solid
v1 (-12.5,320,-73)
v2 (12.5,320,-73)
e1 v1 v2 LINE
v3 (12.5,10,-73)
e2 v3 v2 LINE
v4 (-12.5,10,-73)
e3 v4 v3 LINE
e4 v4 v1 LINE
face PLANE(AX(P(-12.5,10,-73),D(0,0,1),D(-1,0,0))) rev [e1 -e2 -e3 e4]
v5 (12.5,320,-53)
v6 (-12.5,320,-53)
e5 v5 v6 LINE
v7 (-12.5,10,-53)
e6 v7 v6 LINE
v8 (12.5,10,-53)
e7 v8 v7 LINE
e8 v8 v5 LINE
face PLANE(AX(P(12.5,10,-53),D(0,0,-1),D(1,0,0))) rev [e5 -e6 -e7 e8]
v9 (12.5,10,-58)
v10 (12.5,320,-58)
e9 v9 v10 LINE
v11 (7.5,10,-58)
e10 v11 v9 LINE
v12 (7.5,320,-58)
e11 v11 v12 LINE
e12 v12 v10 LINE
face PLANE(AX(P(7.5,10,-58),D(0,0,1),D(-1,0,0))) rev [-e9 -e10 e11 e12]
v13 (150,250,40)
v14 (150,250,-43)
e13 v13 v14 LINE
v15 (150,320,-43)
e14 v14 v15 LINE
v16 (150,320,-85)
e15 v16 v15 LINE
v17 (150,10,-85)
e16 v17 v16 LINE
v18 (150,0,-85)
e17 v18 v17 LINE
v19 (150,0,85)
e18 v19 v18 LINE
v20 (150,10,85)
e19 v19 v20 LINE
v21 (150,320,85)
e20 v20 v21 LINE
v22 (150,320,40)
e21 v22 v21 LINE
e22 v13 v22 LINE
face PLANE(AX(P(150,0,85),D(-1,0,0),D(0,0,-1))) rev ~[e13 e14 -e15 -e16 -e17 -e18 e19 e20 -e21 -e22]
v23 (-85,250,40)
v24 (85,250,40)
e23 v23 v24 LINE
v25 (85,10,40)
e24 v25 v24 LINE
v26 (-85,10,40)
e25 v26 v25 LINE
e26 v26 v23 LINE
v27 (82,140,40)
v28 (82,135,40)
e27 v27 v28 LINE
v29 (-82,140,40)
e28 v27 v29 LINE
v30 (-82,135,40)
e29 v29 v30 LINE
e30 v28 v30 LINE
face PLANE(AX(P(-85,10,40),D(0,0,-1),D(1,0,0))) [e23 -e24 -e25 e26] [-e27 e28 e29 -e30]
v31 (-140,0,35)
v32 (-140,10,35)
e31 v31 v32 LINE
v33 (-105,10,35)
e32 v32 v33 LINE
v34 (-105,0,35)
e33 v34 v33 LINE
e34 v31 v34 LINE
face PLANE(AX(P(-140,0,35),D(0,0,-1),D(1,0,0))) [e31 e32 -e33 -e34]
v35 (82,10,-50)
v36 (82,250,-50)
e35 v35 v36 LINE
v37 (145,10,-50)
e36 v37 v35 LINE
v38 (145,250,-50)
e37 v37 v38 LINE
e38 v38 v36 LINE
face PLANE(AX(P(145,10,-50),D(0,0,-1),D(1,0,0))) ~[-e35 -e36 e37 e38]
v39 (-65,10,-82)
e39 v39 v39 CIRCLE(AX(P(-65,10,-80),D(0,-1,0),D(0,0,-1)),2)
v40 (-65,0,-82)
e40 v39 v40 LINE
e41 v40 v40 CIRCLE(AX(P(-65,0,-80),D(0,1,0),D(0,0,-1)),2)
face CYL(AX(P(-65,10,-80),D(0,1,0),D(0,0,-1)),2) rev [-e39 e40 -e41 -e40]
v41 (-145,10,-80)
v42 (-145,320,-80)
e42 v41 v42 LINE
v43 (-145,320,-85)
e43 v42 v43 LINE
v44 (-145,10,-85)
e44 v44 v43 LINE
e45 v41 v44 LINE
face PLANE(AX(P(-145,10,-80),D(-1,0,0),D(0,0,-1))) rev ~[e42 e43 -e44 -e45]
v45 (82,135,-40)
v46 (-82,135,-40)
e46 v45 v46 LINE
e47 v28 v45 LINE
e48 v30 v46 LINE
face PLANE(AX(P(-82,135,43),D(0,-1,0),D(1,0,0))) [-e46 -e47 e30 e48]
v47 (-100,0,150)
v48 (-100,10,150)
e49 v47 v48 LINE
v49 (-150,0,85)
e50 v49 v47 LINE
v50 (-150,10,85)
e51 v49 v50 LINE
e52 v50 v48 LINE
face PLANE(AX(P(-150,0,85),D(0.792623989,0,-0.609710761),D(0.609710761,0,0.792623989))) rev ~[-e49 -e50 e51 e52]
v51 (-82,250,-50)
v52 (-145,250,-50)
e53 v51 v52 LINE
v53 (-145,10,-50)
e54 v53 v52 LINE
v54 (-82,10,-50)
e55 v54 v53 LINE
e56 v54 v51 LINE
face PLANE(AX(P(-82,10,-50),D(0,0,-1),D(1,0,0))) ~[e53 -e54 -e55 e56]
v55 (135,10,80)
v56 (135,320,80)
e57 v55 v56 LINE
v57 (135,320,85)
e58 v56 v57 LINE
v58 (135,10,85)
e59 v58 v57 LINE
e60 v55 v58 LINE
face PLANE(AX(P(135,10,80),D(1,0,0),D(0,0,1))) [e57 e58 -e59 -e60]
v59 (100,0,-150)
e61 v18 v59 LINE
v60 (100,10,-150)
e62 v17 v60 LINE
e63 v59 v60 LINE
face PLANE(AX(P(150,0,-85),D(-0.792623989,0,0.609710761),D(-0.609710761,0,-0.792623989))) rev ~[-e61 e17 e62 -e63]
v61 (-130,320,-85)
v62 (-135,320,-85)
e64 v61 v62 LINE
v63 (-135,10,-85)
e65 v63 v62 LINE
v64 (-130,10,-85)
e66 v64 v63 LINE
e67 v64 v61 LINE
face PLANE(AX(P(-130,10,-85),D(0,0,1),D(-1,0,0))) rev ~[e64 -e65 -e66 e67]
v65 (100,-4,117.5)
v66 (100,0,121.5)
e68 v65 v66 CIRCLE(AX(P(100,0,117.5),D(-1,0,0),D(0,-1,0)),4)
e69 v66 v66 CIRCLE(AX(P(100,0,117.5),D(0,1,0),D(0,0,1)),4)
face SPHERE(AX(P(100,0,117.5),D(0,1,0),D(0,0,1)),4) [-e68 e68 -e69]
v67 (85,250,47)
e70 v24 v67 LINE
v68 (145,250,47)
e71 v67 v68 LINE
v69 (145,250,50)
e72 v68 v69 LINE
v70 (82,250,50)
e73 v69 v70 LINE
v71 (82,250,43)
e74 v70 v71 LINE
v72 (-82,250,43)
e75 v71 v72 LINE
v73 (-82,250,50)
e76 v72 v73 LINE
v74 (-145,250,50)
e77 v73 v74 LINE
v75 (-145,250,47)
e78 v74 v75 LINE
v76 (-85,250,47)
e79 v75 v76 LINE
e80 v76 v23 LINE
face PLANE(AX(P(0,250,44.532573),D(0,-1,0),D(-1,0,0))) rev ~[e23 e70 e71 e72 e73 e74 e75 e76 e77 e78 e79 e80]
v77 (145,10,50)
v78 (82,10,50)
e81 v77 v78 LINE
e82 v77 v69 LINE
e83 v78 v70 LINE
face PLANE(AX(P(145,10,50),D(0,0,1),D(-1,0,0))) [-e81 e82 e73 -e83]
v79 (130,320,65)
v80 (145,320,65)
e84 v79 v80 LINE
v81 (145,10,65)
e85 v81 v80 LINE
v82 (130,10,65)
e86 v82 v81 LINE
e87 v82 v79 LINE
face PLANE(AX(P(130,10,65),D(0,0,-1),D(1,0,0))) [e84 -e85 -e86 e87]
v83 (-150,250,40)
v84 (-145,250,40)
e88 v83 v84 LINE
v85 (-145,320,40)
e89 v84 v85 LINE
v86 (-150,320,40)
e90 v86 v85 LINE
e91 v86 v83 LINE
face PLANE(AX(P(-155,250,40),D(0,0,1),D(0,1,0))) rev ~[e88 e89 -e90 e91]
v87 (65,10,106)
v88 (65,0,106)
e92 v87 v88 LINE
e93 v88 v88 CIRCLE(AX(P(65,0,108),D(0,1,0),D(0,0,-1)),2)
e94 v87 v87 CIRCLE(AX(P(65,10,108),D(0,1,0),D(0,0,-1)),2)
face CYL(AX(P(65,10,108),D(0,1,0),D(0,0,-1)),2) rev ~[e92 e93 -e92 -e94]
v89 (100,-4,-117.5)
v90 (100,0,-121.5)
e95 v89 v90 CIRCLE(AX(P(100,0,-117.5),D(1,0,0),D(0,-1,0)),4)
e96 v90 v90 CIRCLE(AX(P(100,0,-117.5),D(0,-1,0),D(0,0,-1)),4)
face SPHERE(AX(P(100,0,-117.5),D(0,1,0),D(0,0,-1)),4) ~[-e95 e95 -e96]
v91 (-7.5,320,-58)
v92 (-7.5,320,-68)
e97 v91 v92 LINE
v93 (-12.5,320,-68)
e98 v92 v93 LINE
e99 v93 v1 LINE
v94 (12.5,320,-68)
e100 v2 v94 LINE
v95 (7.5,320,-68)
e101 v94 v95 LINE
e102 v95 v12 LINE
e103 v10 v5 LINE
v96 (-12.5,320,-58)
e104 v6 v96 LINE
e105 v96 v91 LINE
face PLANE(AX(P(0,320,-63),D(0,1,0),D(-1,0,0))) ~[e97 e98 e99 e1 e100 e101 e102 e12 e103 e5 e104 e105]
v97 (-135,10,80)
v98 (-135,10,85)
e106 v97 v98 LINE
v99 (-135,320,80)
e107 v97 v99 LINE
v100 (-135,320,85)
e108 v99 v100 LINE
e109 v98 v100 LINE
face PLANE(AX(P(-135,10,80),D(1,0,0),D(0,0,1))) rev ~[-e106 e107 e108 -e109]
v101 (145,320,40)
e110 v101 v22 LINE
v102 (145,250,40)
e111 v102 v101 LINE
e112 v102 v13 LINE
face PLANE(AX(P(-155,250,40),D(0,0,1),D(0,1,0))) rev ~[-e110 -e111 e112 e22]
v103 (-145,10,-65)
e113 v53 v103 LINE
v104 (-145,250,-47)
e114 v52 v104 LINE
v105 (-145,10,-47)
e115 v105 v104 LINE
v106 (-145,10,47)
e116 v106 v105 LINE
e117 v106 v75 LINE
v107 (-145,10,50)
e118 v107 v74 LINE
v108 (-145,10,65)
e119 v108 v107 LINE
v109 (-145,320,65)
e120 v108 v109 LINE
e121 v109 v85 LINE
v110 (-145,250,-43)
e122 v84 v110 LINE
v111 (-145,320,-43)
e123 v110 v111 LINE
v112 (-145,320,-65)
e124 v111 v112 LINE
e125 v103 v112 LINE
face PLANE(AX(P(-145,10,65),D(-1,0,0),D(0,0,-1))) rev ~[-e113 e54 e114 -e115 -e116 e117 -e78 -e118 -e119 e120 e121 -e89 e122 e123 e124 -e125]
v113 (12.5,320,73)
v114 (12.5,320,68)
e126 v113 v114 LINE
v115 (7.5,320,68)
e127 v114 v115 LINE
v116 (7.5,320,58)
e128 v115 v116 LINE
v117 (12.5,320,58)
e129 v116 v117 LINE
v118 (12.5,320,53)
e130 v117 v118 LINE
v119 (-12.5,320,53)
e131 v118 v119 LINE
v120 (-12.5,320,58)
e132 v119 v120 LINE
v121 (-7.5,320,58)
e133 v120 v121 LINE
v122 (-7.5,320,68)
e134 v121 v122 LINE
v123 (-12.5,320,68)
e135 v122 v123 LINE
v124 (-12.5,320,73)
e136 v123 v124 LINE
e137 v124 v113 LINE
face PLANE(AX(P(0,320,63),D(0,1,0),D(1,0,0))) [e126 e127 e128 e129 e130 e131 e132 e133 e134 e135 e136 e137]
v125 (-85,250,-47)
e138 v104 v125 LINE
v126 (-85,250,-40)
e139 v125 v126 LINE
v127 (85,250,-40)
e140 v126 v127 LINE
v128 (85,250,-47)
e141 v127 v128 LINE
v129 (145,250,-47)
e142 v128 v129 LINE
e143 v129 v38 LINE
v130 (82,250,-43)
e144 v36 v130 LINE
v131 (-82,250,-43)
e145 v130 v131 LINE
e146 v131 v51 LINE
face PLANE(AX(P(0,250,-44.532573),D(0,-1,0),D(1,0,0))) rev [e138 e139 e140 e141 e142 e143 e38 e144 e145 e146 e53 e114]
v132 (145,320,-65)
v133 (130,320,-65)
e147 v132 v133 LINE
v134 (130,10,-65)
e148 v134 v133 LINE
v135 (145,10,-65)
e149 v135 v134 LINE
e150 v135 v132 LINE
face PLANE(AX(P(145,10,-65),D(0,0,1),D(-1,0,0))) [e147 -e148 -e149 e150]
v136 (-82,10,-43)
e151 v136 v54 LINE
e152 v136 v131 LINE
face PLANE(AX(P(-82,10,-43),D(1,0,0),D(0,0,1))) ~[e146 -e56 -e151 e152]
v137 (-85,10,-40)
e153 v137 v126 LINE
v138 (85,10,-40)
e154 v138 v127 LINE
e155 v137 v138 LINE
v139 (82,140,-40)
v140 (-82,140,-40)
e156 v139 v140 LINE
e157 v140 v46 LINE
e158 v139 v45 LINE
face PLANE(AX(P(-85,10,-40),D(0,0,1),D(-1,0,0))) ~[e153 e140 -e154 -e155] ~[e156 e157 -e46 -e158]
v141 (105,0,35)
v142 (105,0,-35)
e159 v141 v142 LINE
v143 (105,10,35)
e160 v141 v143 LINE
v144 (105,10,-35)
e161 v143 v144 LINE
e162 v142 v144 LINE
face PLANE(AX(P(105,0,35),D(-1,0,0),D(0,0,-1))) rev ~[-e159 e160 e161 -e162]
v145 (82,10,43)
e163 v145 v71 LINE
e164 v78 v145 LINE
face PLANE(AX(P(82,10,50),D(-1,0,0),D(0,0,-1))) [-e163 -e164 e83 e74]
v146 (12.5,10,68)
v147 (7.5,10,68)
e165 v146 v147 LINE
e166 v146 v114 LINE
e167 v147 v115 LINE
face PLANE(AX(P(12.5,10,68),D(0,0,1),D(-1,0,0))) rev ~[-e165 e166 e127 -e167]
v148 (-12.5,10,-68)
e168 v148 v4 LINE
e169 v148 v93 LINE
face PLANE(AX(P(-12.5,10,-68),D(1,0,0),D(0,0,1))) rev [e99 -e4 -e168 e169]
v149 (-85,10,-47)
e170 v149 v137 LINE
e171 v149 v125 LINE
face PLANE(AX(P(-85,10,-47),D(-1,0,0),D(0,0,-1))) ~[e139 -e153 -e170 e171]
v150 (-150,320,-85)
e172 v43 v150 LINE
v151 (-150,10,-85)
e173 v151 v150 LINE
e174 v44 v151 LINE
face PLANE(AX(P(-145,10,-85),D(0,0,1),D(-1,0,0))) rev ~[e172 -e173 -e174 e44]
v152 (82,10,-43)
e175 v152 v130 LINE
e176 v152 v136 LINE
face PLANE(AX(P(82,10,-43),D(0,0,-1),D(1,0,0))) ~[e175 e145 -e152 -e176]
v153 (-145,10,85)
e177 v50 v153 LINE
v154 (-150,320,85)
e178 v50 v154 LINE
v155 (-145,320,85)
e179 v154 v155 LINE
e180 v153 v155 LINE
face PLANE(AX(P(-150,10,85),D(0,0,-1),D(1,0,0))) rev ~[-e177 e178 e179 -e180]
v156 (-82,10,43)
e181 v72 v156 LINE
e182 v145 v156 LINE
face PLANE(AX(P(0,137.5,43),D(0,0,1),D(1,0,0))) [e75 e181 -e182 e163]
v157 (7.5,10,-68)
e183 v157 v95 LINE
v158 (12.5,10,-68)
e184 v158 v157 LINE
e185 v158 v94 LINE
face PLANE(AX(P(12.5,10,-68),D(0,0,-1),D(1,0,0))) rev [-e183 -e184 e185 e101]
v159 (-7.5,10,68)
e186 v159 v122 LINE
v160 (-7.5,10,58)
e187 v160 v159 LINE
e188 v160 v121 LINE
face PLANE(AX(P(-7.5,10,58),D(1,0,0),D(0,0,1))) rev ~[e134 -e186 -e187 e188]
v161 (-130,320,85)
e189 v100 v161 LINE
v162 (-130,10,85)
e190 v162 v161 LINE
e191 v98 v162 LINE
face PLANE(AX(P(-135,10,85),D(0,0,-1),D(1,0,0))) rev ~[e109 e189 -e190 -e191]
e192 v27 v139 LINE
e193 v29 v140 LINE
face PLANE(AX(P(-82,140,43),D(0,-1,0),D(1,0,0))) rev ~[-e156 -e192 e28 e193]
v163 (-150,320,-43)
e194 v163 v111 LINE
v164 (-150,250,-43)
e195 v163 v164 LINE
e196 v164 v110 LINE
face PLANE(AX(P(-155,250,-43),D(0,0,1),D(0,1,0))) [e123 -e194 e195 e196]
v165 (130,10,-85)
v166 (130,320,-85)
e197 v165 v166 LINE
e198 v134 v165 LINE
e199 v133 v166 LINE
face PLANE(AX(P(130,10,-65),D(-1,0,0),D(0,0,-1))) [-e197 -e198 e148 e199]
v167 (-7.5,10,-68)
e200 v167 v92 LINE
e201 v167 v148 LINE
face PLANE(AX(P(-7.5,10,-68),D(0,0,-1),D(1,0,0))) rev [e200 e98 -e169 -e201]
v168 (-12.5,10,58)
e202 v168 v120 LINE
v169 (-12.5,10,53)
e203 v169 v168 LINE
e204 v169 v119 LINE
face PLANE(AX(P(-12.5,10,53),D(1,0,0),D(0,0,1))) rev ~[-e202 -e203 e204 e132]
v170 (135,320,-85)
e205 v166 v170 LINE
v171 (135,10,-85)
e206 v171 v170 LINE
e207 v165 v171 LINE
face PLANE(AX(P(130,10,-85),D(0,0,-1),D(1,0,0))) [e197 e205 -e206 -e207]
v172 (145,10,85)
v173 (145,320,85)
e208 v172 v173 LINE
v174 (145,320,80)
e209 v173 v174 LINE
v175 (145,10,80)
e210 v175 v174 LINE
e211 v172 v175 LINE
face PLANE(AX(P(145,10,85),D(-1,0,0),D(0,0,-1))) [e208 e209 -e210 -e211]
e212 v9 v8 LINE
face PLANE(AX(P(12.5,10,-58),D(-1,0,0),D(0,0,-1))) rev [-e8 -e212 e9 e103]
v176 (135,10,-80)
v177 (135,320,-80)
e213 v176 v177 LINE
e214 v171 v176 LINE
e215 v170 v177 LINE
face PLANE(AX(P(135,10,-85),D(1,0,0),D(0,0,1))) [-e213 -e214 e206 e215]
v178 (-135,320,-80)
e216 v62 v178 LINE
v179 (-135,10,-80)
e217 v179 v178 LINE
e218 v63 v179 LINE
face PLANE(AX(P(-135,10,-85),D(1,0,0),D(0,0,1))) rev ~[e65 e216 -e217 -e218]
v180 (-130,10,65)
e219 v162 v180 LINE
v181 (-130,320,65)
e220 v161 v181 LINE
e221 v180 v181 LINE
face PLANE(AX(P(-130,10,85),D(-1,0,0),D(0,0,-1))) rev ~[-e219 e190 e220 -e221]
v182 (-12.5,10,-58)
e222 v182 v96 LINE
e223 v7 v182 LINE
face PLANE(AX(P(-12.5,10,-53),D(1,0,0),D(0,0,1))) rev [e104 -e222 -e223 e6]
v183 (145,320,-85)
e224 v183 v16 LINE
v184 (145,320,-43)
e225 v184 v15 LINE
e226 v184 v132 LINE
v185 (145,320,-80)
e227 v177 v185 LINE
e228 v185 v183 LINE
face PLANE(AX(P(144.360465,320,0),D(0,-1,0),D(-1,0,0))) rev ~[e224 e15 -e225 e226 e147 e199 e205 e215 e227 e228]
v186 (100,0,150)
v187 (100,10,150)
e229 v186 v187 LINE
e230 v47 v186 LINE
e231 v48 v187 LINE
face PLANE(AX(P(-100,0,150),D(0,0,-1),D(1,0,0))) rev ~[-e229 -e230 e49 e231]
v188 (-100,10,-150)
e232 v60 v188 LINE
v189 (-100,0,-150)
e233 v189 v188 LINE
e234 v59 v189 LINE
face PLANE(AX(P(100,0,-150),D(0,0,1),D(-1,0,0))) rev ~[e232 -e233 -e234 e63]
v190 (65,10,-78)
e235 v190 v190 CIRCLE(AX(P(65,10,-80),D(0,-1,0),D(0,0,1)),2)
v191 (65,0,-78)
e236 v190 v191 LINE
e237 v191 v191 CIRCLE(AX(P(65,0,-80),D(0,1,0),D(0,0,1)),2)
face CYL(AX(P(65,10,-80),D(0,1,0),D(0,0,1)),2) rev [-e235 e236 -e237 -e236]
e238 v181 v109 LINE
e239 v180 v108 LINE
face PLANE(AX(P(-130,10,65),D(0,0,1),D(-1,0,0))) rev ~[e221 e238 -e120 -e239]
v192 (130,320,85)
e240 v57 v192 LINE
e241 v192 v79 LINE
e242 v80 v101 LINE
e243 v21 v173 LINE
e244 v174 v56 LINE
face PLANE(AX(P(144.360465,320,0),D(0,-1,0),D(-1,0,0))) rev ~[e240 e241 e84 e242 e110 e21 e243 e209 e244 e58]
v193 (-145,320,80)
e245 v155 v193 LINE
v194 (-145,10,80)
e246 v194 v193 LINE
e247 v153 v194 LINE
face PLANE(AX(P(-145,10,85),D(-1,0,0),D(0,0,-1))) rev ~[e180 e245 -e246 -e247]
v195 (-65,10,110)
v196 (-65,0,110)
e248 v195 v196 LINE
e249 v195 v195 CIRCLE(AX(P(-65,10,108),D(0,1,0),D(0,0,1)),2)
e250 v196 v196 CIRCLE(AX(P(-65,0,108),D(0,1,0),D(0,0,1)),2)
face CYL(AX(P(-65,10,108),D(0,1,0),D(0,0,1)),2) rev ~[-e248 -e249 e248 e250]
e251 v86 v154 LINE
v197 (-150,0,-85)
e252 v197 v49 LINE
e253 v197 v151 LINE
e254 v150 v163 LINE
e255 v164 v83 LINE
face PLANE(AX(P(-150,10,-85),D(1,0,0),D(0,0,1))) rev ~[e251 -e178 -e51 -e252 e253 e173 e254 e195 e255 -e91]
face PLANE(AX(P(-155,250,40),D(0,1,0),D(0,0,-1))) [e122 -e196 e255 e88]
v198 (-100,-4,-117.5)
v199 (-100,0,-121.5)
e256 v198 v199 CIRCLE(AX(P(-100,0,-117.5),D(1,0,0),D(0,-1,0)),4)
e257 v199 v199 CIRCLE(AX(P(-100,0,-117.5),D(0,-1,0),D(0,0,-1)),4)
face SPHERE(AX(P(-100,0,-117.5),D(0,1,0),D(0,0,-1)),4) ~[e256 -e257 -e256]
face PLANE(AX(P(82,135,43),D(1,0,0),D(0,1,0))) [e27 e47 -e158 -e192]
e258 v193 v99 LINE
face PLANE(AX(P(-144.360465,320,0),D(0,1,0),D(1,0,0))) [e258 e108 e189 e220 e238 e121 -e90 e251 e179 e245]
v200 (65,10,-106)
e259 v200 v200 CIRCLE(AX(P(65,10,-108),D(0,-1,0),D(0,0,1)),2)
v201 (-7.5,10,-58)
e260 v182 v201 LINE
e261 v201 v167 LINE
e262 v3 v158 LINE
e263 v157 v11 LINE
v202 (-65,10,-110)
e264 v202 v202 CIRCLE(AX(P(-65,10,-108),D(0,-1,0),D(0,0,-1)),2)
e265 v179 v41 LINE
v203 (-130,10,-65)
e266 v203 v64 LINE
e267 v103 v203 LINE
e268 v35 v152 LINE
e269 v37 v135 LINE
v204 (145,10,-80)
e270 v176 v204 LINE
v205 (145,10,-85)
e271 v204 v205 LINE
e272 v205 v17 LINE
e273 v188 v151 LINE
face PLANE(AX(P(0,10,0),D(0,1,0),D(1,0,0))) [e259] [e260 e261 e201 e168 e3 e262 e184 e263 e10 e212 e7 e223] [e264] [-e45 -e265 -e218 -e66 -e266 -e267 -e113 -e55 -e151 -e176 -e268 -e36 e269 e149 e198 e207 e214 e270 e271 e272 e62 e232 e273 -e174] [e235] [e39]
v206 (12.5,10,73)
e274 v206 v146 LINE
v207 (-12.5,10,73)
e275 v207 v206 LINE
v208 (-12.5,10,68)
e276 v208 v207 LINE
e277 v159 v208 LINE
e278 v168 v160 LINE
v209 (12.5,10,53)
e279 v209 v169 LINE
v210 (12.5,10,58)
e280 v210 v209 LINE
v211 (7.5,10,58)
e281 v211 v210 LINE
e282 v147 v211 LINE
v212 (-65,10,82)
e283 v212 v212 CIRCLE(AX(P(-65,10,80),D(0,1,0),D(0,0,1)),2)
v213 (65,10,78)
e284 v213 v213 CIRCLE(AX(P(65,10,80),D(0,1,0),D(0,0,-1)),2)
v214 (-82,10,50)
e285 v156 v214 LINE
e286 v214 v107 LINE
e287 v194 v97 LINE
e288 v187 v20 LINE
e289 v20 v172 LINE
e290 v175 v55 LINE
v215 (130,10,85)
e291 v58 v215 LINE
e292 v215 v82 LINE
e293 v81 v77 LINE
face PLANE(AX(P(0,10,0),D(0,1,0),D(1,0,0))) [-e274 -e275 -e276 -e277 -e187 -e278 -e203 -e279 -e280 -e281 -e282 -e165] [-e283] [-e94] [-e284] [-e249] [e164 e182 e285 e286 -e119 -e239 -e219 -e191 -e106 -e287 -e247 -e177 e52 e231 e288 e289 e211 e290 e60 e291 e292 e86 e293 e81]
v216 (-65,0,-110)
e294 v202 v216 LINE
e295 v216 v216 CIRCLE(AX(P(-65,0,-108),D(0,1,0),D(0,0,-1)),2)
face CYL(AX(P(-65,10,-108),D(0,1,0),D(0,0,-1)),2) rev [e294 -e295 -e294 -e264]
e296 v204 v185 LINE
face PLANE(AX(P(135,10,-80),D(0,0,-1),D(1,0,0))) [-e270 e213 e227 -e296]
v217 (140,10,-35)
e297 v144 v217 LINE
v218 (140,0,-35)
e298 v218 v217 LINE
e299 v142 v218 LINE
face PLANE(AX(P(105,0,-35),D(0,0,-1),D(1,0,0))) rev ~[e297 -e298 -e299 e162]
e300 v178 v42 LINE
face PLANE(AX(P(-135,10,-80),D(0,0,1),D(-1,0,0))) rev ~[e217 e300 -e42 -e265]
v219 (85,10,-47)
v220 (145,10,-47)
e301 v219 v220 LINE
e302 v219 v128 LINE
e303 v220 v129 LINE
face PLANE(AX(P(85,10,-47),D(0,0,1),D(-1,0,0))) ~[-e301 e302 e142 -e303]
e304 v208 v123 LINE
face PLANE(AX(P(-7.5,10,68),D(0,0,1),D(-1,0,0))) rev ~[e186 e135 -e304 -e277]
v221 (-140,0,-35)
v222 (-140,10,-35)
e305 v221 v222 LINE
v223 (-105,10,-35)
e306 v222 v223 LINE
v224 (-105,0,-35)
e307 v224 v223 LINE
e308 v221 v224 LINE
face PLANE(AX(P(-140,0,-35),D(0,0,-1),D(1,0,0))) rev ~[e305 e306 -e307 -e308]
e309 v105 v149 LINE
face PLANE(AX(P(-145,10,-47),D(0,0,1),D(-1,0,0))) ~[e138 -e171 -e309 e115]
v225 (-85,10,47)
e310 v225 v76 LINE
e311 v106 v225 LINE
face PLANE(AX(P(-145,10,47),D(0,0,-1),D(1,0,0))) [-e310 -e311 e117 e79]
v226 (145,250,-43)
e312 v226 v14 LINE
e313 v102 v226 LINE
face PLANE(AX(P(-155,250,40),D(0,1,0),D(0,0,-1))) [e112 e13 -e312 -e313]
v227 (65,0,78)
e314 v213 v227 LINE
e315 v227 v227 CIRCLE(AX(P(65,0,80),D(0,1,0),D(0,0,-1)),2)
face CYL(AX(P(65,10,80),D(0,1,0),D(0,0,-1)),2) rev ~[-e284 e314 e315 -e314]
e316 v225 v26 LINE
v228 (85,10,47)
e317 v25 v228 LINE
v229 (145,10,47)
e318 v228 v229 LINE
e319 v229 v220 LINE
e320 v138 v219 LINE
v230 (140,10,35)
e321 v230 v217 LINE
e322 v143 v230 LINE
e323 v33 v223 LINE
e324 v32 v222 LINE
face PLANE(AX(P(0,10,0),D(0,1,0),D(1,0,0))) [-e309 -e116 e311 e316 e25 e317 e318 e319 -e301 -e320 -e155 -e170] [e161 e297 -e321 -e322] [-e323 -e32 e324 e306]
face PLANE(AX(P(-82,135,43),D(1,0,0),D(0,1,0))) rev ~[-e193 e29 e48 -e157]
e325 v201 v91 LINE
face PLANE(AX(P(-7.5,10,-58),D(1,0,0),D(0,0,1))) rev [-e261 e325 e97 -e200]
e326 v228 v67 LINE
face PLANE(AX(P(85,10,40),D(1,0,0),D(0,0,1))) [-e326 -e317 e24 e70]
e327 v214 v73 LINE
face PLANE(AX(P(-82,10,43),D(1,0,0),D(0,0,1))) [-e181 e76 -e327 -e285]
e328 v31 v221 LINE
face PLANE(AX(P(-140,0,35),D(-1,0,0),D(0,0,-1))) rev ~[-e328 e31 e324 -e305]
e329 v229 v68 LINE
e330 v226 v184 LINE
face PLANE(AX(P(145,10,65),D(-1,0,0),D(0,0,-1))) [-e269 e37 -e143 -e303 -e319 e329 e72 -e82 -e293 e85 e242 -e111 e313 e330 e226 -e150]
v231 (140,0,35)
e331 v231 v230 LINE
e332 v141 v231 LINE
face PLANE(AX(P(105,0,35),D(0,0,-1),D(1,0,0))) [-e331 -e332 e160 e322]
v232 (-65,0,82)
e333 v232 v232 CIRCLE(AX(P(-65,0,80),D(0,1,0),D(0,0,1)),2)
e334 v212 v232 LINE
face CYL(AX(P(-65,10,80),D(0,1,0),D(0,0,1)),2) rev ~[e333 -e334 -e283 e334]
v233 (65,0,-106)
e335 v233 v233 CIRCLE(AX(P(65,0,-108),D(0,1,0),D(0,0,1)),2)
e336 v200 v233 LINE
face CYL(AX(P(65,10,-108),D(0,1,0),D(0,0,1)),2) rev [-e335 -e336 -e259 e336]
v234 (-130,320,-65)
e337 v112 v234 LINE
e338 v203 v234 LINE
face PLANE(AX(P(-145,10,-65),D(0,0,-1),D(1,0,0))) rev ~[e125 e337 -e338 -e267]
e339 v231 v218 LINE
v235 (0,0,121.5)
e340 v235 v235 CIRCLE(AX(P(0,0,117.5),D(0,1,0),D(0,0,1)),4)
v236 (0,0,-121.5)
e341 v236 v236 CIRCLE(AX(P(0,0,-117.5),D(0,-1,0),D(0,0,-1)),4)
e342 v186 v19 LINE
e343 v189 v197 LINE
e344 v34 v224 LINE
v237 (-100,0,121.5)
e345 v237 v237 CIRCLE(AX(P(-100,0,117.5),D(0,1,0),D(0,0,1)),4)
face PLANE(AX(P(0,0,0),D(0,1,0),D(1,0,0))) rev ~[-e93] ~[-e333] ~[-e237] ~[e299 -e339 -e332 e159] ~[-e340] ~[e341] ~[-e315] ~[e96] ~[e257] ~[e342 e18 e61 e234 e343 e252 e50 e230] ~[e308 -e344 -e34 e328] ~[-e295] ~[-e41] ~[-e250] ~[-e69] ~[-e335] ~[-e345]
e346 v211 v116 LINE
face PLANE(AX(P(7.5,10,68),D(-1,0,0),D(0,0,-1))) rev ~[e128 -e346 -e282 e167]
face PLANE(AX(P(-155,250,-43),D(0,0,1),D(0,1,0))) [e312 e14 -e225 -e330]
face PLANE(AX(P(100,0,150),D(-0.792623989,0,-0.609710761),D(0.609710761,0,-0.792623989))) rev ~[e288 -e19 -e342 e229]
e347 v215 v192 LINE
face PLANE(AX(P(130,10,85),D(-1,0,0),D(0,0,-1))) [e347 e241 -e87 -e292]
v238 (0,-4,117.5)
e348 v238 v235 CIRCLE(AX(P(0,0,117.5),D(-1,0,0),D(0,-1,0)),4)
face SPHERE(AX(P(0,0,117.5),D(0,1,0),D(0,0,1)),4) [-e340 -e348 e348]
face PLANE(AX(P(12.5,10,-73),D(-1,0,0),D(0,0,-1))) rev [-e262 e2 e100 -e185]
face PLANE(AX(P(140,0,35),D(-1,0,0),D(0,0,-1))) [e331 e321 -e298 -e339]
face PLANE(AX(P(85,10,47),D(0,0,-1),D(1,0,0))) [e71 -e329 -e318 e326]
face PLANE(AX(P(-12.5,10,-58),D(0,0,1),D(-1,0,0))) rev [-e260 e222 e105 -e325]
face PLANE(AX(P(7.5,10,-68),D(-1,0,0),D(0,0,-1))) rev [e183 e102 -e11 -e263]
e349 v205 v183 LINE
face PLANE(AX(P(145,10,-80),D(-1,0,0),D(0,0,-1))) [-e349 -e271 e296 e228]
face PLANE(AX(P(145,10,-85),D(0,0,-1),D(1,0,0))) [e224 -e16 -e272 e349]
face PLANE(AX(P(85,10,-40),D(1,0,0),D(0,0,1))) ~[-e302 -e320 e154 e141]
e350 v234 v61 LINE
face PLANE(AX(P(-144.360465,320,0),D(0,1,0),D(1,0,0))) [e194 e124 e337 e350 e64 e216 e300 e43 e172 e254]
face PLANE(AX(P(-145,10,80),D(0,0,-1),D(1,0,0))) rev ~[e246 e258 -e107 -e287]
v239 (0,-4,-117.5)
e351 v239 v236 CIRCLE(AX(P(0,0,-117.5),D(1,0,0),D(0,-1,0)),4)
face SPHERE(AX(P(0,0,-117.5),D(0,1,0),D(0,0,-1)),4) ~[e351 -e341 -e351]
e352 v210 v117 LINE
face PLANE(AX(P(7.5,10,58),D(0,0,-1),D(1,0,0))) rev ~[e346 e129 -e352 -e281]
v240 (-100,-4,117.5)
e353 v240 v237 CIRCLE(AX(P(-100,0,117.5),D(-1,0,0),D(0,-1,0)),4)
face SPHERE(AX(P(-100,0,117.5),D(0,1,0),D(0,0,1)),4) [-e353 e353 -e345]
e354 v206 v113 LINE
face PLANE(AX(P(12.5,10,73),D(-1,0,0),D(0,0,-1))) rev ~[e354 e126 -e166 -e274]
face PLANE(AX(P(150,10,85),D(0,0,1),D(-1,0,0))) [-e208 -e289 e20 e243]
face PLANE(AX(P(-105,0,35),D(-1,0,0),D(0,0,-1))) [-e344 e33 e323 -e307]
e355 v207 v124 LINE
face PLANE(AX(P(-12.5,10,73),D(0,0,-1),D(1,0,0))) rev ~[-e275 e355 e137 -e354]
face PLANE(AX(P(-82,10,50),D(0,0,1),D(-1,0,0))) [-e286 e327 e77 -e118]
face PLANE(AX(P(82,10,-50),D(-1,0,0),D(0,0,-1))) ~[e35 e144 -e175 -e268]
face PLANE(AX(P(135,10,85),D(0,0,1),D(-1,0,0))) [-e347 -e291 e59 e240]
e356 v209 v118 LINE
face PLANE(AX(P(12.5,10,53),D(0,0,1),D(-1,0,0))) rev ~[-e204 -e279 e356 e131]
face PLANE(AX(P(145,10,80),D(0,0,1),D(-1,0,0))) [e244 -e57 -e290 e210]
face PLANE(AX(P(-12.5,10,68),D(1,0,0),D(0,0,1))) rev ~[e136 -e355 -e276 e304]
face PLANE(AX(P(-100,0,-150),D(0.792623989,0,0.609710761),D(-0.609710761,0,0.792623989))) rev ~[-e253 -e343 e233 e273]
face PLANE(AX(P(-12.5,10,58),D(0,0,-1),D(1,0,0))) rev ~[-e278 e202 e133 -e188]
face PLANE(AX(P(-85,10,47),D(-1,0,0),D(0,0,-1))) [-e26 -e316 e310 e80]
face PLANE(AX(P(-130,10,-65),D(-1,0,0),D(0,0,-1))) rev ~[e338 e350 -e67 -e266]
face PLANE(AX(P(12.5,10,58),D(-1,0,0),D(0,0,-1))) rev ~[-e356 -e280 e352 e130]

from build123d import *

# Parameters (mm, degrees)
SKETCH1_W               = 35
SKETCH1_H               = 70
BOSS_EXTRUDE1_DEPTH     = 10
BOSS_EXTRUDE3_DEPTH     = 310
BOSS_EXTRUDE4_DEPTH     = 240
SKETCH6_R               = 2
CUT_EXTRUDE1_DEPTH      = 280
LPATTERN1_COUNT         = 2
LPATTERN1_PITCH         = 100
LPATTERN1_COL_COUNT     = 2
LPATTERN1_COL_PITCH     = 100
CUT_EXTRUDE2_DEPTH      = 295
CUT_EXTRUDE2_DEPTH_BACK = 10
SKETCH10_W              = 83
SKETCH10_H              = 70
SKETCH11_W              = 164
SKETCH11_H              = 5
BOSS_EXTRUDE5_DEPTH     = 86


with BuildPart() as part:
    # Sketch1 → Boss-Extrude1 (new body)
    with BuildSketch(Plane(origin=(0, 0, 0), x_dir=(1, 0, 0), z_dir=(0, 1, 0))):
        Polygon((-100, 150), (-150, 85), (-150, -85), (-100, -150), (100, -150), (150, -85), (150, 85), (100, 150), align=None)
        with Locations((-122.5, 0)):
            Rectangle(SKETCH1_W, SKETCH1_H, mode=Mode.SUBTRACT)
        with Locations((122.5, 0)):
            Rectangle(SKETCH1_W, SKETCH1_H, mode=Mode.SUBTRACT)
    extrude(amount=BOSS_EXTRUDE1_DEPTH)

    # Sketch4 → Boss-Extrude3 (add)
    with BuildSketch(Plane(origin=(0, 10, 0), x_dir=(1, 0, 0), z_dir=(0, 1, 0))):
        Polygon((-12.5, -73), (12.5, -73), (12.5, -68), (7.5, -68), (7.5, -58), (12.5, -58), (12.5, -53), (-12.5, -53), (-12.5, -58), (-7.5, -58), (-7.5, -68), (-12.5, -68), align=None)
        Polygon((-150, 85), (-150, -85), (-145, -85), (-145, -80), (-135, -80), (-135, -85), (-130, -85), (-130, -65), (-145, -65), (-145, 65), (-130, 65), (-130, 85), (-135, 85), (-135, 80), (-145, 80), (-145, 85), align=None)
        Polygon((145, 85), (150, 85), (150, -85), (145, -85), (145, -80), (135, -80), (135, -85), (130, -85), (130, -65), (145, -65), (145, 65), (130, 65), (130, 85), (135, 85), (135, 80), (145, 80), align=None)
    boss_extrude3 = extrude(amount=BOSS_EXTRUDE3_DEPTH)

    # Sketch5 → Boss-Extrude4 (add)
    with BuildSketch(Plane(origin=(0, 10, 0), x_dir=(1, 0, 0), z_dir=(0, 1, 0))):
        Polygon((-145, -47), (-85, -47), (-85, -40), (85, -40), (85, -47), (145, -47), (145, -50), (82, -50), (82, -43), (-82, -43), (-82, -50), (-145, -50), align=None)
    boss_extrude4 = extrude(amount=BOSS_EXTRUDE4_DEPTH)

    # Sketch6 → Cut-Extrude1 (cut)
    with BuildSketch(Plane(origin=(0, 10, 0), x_dir=(1, 0, 0), z_dir=(0, 1, 0))):
        with Locations(Location((-65, -80, 0), (0, 0, 270))):
            Circle(SKETCH6_R)
        with Locations(Location((-65, -108, 0), (0, 0, 270))):
            Circle(SKETCH6_R)
        with Locations(Location((65, -108, 0), (0, 0, 90))):
            Circle(SKETCH6_R)
        with Locations(Location((65, -80, 0), (0, 0, 90))):
            Circle(SKETCH6_R)
    cut_extrude1 = extrude(amount=-CUT_EXTRUDE1_DEPTH, mode=Mode.SUBTRACT)

    # Mirror1: Boss-Extrude3, Boss-Extrude4, Cut-Extrude1 across plane
    add(boss_extrude3.mirror(Plane.XY))
    add(boss_extrude4.mirror(Plane.XY))
    add(cut_extrude1.mirror(Plane.XY), mode=Mode.SUBTRACT)

    # Sketch9 → Revolve1 (revolve)
    with BuildSketch(Plane(origin=(0, 0, 0), x_dir=(0, 0, -1), z_dir=(1, 0, 0))):
        with BuildLine():
            Line((117.5, 0), (117.5, -4))
            ThreePointArc((117.5, -4), (120.328427125, -2.828427125), (121.5, 0))
            Line((121.5, 0), (117.5, 0))
        make_face()
    revolve1 = revolve(axis=Axis((0, 0, -117.5), (0, -1, 0)))

    # LPattern1: Revolve1 ×2
    with Locations(*[(-i * LPATTERN1_PITCH, 0, 0) for i in range(1, LPATTERN1_COUNT)]):
        add(revolve1)

    # LPattern1 col: Revolve1 ×2
    with Locations(*[(i * LPATTERN1_COL_PITCH, 0, 0) for i in range(1, LPATTERN1_COL_COUNT)]):
        add(revolve1)

    # Mirror2: Revolve1 across plane
    add(revolve1.mirror(Plane.XY))

    # Mirror2 copy 1 sketch → Mirror2 copy 1 (revolve)
    with BuildSketch(Plane(origin=(-100, 0, 0), x_dir=(0, 0, 1), z_dir=(1, 0, 0))):
        with BuildLine():
            Line((117.5, 0), (117.5, 4))
            ThreePointArc((117.5, 4), (120.328427125, 2.828427125), (121.5, 0))
            Line((121.5, 0), (117.5, 0))
        make_face()
    revolve(axis=Axis((-100, 0, 117.5), (0, 1, 0)))

    # Mirror2 copy 2 sketch → Mirror2 copy 2 (revolve)
    with BuildSketch(Plane(origin=(100, 0, 0), x_dir=(0, 0, 1), z_dir=(1, 0, 0))):
        with BuildLine():
            Line((117.5, 0), (117.5, 4))
            ThreePointArc((117.5, 4), (120.328427125, 2.828427125), (121.5, 0))
            Line((121.5, 0), (117.5, 0))
        make_face()
    revolve(axis=Axis((100, 0, 117.5), (0, 1, 0)))

    # Sketch10 → Cut-Extrude2 (cut, two sides: drawn at the far end of the back side and taken through both)
    with BuildSketch(Plane(origin=(-145, 0, 0), x_dir=(0, 0, -1), z_dir=(1, 0, 0)).offset(-CUT_EXTRUDE2_DEPTH_BACK)):
        with Locations((1.5, 285)):
            Rectangle(SKETCH10_W, SKETCH10_H)
    extrude(amount=CUT_EXTRUDE2_DEPTH + CUT_EXTRUDE2_DEPTH_BACK, mode=Mode.SUBTRACT)

    # Sketch11 → Boss-Extrude5 (add)
    with BuildSketch(Plane.XY.offset(43)):
        with Locations((0, 137.5)):
            Rectangle(SKETCH11_W, SKETCH11_H)
    extrude(amount=-BOSS_EXTRUDE5_DEPTH)


solid = part.part
